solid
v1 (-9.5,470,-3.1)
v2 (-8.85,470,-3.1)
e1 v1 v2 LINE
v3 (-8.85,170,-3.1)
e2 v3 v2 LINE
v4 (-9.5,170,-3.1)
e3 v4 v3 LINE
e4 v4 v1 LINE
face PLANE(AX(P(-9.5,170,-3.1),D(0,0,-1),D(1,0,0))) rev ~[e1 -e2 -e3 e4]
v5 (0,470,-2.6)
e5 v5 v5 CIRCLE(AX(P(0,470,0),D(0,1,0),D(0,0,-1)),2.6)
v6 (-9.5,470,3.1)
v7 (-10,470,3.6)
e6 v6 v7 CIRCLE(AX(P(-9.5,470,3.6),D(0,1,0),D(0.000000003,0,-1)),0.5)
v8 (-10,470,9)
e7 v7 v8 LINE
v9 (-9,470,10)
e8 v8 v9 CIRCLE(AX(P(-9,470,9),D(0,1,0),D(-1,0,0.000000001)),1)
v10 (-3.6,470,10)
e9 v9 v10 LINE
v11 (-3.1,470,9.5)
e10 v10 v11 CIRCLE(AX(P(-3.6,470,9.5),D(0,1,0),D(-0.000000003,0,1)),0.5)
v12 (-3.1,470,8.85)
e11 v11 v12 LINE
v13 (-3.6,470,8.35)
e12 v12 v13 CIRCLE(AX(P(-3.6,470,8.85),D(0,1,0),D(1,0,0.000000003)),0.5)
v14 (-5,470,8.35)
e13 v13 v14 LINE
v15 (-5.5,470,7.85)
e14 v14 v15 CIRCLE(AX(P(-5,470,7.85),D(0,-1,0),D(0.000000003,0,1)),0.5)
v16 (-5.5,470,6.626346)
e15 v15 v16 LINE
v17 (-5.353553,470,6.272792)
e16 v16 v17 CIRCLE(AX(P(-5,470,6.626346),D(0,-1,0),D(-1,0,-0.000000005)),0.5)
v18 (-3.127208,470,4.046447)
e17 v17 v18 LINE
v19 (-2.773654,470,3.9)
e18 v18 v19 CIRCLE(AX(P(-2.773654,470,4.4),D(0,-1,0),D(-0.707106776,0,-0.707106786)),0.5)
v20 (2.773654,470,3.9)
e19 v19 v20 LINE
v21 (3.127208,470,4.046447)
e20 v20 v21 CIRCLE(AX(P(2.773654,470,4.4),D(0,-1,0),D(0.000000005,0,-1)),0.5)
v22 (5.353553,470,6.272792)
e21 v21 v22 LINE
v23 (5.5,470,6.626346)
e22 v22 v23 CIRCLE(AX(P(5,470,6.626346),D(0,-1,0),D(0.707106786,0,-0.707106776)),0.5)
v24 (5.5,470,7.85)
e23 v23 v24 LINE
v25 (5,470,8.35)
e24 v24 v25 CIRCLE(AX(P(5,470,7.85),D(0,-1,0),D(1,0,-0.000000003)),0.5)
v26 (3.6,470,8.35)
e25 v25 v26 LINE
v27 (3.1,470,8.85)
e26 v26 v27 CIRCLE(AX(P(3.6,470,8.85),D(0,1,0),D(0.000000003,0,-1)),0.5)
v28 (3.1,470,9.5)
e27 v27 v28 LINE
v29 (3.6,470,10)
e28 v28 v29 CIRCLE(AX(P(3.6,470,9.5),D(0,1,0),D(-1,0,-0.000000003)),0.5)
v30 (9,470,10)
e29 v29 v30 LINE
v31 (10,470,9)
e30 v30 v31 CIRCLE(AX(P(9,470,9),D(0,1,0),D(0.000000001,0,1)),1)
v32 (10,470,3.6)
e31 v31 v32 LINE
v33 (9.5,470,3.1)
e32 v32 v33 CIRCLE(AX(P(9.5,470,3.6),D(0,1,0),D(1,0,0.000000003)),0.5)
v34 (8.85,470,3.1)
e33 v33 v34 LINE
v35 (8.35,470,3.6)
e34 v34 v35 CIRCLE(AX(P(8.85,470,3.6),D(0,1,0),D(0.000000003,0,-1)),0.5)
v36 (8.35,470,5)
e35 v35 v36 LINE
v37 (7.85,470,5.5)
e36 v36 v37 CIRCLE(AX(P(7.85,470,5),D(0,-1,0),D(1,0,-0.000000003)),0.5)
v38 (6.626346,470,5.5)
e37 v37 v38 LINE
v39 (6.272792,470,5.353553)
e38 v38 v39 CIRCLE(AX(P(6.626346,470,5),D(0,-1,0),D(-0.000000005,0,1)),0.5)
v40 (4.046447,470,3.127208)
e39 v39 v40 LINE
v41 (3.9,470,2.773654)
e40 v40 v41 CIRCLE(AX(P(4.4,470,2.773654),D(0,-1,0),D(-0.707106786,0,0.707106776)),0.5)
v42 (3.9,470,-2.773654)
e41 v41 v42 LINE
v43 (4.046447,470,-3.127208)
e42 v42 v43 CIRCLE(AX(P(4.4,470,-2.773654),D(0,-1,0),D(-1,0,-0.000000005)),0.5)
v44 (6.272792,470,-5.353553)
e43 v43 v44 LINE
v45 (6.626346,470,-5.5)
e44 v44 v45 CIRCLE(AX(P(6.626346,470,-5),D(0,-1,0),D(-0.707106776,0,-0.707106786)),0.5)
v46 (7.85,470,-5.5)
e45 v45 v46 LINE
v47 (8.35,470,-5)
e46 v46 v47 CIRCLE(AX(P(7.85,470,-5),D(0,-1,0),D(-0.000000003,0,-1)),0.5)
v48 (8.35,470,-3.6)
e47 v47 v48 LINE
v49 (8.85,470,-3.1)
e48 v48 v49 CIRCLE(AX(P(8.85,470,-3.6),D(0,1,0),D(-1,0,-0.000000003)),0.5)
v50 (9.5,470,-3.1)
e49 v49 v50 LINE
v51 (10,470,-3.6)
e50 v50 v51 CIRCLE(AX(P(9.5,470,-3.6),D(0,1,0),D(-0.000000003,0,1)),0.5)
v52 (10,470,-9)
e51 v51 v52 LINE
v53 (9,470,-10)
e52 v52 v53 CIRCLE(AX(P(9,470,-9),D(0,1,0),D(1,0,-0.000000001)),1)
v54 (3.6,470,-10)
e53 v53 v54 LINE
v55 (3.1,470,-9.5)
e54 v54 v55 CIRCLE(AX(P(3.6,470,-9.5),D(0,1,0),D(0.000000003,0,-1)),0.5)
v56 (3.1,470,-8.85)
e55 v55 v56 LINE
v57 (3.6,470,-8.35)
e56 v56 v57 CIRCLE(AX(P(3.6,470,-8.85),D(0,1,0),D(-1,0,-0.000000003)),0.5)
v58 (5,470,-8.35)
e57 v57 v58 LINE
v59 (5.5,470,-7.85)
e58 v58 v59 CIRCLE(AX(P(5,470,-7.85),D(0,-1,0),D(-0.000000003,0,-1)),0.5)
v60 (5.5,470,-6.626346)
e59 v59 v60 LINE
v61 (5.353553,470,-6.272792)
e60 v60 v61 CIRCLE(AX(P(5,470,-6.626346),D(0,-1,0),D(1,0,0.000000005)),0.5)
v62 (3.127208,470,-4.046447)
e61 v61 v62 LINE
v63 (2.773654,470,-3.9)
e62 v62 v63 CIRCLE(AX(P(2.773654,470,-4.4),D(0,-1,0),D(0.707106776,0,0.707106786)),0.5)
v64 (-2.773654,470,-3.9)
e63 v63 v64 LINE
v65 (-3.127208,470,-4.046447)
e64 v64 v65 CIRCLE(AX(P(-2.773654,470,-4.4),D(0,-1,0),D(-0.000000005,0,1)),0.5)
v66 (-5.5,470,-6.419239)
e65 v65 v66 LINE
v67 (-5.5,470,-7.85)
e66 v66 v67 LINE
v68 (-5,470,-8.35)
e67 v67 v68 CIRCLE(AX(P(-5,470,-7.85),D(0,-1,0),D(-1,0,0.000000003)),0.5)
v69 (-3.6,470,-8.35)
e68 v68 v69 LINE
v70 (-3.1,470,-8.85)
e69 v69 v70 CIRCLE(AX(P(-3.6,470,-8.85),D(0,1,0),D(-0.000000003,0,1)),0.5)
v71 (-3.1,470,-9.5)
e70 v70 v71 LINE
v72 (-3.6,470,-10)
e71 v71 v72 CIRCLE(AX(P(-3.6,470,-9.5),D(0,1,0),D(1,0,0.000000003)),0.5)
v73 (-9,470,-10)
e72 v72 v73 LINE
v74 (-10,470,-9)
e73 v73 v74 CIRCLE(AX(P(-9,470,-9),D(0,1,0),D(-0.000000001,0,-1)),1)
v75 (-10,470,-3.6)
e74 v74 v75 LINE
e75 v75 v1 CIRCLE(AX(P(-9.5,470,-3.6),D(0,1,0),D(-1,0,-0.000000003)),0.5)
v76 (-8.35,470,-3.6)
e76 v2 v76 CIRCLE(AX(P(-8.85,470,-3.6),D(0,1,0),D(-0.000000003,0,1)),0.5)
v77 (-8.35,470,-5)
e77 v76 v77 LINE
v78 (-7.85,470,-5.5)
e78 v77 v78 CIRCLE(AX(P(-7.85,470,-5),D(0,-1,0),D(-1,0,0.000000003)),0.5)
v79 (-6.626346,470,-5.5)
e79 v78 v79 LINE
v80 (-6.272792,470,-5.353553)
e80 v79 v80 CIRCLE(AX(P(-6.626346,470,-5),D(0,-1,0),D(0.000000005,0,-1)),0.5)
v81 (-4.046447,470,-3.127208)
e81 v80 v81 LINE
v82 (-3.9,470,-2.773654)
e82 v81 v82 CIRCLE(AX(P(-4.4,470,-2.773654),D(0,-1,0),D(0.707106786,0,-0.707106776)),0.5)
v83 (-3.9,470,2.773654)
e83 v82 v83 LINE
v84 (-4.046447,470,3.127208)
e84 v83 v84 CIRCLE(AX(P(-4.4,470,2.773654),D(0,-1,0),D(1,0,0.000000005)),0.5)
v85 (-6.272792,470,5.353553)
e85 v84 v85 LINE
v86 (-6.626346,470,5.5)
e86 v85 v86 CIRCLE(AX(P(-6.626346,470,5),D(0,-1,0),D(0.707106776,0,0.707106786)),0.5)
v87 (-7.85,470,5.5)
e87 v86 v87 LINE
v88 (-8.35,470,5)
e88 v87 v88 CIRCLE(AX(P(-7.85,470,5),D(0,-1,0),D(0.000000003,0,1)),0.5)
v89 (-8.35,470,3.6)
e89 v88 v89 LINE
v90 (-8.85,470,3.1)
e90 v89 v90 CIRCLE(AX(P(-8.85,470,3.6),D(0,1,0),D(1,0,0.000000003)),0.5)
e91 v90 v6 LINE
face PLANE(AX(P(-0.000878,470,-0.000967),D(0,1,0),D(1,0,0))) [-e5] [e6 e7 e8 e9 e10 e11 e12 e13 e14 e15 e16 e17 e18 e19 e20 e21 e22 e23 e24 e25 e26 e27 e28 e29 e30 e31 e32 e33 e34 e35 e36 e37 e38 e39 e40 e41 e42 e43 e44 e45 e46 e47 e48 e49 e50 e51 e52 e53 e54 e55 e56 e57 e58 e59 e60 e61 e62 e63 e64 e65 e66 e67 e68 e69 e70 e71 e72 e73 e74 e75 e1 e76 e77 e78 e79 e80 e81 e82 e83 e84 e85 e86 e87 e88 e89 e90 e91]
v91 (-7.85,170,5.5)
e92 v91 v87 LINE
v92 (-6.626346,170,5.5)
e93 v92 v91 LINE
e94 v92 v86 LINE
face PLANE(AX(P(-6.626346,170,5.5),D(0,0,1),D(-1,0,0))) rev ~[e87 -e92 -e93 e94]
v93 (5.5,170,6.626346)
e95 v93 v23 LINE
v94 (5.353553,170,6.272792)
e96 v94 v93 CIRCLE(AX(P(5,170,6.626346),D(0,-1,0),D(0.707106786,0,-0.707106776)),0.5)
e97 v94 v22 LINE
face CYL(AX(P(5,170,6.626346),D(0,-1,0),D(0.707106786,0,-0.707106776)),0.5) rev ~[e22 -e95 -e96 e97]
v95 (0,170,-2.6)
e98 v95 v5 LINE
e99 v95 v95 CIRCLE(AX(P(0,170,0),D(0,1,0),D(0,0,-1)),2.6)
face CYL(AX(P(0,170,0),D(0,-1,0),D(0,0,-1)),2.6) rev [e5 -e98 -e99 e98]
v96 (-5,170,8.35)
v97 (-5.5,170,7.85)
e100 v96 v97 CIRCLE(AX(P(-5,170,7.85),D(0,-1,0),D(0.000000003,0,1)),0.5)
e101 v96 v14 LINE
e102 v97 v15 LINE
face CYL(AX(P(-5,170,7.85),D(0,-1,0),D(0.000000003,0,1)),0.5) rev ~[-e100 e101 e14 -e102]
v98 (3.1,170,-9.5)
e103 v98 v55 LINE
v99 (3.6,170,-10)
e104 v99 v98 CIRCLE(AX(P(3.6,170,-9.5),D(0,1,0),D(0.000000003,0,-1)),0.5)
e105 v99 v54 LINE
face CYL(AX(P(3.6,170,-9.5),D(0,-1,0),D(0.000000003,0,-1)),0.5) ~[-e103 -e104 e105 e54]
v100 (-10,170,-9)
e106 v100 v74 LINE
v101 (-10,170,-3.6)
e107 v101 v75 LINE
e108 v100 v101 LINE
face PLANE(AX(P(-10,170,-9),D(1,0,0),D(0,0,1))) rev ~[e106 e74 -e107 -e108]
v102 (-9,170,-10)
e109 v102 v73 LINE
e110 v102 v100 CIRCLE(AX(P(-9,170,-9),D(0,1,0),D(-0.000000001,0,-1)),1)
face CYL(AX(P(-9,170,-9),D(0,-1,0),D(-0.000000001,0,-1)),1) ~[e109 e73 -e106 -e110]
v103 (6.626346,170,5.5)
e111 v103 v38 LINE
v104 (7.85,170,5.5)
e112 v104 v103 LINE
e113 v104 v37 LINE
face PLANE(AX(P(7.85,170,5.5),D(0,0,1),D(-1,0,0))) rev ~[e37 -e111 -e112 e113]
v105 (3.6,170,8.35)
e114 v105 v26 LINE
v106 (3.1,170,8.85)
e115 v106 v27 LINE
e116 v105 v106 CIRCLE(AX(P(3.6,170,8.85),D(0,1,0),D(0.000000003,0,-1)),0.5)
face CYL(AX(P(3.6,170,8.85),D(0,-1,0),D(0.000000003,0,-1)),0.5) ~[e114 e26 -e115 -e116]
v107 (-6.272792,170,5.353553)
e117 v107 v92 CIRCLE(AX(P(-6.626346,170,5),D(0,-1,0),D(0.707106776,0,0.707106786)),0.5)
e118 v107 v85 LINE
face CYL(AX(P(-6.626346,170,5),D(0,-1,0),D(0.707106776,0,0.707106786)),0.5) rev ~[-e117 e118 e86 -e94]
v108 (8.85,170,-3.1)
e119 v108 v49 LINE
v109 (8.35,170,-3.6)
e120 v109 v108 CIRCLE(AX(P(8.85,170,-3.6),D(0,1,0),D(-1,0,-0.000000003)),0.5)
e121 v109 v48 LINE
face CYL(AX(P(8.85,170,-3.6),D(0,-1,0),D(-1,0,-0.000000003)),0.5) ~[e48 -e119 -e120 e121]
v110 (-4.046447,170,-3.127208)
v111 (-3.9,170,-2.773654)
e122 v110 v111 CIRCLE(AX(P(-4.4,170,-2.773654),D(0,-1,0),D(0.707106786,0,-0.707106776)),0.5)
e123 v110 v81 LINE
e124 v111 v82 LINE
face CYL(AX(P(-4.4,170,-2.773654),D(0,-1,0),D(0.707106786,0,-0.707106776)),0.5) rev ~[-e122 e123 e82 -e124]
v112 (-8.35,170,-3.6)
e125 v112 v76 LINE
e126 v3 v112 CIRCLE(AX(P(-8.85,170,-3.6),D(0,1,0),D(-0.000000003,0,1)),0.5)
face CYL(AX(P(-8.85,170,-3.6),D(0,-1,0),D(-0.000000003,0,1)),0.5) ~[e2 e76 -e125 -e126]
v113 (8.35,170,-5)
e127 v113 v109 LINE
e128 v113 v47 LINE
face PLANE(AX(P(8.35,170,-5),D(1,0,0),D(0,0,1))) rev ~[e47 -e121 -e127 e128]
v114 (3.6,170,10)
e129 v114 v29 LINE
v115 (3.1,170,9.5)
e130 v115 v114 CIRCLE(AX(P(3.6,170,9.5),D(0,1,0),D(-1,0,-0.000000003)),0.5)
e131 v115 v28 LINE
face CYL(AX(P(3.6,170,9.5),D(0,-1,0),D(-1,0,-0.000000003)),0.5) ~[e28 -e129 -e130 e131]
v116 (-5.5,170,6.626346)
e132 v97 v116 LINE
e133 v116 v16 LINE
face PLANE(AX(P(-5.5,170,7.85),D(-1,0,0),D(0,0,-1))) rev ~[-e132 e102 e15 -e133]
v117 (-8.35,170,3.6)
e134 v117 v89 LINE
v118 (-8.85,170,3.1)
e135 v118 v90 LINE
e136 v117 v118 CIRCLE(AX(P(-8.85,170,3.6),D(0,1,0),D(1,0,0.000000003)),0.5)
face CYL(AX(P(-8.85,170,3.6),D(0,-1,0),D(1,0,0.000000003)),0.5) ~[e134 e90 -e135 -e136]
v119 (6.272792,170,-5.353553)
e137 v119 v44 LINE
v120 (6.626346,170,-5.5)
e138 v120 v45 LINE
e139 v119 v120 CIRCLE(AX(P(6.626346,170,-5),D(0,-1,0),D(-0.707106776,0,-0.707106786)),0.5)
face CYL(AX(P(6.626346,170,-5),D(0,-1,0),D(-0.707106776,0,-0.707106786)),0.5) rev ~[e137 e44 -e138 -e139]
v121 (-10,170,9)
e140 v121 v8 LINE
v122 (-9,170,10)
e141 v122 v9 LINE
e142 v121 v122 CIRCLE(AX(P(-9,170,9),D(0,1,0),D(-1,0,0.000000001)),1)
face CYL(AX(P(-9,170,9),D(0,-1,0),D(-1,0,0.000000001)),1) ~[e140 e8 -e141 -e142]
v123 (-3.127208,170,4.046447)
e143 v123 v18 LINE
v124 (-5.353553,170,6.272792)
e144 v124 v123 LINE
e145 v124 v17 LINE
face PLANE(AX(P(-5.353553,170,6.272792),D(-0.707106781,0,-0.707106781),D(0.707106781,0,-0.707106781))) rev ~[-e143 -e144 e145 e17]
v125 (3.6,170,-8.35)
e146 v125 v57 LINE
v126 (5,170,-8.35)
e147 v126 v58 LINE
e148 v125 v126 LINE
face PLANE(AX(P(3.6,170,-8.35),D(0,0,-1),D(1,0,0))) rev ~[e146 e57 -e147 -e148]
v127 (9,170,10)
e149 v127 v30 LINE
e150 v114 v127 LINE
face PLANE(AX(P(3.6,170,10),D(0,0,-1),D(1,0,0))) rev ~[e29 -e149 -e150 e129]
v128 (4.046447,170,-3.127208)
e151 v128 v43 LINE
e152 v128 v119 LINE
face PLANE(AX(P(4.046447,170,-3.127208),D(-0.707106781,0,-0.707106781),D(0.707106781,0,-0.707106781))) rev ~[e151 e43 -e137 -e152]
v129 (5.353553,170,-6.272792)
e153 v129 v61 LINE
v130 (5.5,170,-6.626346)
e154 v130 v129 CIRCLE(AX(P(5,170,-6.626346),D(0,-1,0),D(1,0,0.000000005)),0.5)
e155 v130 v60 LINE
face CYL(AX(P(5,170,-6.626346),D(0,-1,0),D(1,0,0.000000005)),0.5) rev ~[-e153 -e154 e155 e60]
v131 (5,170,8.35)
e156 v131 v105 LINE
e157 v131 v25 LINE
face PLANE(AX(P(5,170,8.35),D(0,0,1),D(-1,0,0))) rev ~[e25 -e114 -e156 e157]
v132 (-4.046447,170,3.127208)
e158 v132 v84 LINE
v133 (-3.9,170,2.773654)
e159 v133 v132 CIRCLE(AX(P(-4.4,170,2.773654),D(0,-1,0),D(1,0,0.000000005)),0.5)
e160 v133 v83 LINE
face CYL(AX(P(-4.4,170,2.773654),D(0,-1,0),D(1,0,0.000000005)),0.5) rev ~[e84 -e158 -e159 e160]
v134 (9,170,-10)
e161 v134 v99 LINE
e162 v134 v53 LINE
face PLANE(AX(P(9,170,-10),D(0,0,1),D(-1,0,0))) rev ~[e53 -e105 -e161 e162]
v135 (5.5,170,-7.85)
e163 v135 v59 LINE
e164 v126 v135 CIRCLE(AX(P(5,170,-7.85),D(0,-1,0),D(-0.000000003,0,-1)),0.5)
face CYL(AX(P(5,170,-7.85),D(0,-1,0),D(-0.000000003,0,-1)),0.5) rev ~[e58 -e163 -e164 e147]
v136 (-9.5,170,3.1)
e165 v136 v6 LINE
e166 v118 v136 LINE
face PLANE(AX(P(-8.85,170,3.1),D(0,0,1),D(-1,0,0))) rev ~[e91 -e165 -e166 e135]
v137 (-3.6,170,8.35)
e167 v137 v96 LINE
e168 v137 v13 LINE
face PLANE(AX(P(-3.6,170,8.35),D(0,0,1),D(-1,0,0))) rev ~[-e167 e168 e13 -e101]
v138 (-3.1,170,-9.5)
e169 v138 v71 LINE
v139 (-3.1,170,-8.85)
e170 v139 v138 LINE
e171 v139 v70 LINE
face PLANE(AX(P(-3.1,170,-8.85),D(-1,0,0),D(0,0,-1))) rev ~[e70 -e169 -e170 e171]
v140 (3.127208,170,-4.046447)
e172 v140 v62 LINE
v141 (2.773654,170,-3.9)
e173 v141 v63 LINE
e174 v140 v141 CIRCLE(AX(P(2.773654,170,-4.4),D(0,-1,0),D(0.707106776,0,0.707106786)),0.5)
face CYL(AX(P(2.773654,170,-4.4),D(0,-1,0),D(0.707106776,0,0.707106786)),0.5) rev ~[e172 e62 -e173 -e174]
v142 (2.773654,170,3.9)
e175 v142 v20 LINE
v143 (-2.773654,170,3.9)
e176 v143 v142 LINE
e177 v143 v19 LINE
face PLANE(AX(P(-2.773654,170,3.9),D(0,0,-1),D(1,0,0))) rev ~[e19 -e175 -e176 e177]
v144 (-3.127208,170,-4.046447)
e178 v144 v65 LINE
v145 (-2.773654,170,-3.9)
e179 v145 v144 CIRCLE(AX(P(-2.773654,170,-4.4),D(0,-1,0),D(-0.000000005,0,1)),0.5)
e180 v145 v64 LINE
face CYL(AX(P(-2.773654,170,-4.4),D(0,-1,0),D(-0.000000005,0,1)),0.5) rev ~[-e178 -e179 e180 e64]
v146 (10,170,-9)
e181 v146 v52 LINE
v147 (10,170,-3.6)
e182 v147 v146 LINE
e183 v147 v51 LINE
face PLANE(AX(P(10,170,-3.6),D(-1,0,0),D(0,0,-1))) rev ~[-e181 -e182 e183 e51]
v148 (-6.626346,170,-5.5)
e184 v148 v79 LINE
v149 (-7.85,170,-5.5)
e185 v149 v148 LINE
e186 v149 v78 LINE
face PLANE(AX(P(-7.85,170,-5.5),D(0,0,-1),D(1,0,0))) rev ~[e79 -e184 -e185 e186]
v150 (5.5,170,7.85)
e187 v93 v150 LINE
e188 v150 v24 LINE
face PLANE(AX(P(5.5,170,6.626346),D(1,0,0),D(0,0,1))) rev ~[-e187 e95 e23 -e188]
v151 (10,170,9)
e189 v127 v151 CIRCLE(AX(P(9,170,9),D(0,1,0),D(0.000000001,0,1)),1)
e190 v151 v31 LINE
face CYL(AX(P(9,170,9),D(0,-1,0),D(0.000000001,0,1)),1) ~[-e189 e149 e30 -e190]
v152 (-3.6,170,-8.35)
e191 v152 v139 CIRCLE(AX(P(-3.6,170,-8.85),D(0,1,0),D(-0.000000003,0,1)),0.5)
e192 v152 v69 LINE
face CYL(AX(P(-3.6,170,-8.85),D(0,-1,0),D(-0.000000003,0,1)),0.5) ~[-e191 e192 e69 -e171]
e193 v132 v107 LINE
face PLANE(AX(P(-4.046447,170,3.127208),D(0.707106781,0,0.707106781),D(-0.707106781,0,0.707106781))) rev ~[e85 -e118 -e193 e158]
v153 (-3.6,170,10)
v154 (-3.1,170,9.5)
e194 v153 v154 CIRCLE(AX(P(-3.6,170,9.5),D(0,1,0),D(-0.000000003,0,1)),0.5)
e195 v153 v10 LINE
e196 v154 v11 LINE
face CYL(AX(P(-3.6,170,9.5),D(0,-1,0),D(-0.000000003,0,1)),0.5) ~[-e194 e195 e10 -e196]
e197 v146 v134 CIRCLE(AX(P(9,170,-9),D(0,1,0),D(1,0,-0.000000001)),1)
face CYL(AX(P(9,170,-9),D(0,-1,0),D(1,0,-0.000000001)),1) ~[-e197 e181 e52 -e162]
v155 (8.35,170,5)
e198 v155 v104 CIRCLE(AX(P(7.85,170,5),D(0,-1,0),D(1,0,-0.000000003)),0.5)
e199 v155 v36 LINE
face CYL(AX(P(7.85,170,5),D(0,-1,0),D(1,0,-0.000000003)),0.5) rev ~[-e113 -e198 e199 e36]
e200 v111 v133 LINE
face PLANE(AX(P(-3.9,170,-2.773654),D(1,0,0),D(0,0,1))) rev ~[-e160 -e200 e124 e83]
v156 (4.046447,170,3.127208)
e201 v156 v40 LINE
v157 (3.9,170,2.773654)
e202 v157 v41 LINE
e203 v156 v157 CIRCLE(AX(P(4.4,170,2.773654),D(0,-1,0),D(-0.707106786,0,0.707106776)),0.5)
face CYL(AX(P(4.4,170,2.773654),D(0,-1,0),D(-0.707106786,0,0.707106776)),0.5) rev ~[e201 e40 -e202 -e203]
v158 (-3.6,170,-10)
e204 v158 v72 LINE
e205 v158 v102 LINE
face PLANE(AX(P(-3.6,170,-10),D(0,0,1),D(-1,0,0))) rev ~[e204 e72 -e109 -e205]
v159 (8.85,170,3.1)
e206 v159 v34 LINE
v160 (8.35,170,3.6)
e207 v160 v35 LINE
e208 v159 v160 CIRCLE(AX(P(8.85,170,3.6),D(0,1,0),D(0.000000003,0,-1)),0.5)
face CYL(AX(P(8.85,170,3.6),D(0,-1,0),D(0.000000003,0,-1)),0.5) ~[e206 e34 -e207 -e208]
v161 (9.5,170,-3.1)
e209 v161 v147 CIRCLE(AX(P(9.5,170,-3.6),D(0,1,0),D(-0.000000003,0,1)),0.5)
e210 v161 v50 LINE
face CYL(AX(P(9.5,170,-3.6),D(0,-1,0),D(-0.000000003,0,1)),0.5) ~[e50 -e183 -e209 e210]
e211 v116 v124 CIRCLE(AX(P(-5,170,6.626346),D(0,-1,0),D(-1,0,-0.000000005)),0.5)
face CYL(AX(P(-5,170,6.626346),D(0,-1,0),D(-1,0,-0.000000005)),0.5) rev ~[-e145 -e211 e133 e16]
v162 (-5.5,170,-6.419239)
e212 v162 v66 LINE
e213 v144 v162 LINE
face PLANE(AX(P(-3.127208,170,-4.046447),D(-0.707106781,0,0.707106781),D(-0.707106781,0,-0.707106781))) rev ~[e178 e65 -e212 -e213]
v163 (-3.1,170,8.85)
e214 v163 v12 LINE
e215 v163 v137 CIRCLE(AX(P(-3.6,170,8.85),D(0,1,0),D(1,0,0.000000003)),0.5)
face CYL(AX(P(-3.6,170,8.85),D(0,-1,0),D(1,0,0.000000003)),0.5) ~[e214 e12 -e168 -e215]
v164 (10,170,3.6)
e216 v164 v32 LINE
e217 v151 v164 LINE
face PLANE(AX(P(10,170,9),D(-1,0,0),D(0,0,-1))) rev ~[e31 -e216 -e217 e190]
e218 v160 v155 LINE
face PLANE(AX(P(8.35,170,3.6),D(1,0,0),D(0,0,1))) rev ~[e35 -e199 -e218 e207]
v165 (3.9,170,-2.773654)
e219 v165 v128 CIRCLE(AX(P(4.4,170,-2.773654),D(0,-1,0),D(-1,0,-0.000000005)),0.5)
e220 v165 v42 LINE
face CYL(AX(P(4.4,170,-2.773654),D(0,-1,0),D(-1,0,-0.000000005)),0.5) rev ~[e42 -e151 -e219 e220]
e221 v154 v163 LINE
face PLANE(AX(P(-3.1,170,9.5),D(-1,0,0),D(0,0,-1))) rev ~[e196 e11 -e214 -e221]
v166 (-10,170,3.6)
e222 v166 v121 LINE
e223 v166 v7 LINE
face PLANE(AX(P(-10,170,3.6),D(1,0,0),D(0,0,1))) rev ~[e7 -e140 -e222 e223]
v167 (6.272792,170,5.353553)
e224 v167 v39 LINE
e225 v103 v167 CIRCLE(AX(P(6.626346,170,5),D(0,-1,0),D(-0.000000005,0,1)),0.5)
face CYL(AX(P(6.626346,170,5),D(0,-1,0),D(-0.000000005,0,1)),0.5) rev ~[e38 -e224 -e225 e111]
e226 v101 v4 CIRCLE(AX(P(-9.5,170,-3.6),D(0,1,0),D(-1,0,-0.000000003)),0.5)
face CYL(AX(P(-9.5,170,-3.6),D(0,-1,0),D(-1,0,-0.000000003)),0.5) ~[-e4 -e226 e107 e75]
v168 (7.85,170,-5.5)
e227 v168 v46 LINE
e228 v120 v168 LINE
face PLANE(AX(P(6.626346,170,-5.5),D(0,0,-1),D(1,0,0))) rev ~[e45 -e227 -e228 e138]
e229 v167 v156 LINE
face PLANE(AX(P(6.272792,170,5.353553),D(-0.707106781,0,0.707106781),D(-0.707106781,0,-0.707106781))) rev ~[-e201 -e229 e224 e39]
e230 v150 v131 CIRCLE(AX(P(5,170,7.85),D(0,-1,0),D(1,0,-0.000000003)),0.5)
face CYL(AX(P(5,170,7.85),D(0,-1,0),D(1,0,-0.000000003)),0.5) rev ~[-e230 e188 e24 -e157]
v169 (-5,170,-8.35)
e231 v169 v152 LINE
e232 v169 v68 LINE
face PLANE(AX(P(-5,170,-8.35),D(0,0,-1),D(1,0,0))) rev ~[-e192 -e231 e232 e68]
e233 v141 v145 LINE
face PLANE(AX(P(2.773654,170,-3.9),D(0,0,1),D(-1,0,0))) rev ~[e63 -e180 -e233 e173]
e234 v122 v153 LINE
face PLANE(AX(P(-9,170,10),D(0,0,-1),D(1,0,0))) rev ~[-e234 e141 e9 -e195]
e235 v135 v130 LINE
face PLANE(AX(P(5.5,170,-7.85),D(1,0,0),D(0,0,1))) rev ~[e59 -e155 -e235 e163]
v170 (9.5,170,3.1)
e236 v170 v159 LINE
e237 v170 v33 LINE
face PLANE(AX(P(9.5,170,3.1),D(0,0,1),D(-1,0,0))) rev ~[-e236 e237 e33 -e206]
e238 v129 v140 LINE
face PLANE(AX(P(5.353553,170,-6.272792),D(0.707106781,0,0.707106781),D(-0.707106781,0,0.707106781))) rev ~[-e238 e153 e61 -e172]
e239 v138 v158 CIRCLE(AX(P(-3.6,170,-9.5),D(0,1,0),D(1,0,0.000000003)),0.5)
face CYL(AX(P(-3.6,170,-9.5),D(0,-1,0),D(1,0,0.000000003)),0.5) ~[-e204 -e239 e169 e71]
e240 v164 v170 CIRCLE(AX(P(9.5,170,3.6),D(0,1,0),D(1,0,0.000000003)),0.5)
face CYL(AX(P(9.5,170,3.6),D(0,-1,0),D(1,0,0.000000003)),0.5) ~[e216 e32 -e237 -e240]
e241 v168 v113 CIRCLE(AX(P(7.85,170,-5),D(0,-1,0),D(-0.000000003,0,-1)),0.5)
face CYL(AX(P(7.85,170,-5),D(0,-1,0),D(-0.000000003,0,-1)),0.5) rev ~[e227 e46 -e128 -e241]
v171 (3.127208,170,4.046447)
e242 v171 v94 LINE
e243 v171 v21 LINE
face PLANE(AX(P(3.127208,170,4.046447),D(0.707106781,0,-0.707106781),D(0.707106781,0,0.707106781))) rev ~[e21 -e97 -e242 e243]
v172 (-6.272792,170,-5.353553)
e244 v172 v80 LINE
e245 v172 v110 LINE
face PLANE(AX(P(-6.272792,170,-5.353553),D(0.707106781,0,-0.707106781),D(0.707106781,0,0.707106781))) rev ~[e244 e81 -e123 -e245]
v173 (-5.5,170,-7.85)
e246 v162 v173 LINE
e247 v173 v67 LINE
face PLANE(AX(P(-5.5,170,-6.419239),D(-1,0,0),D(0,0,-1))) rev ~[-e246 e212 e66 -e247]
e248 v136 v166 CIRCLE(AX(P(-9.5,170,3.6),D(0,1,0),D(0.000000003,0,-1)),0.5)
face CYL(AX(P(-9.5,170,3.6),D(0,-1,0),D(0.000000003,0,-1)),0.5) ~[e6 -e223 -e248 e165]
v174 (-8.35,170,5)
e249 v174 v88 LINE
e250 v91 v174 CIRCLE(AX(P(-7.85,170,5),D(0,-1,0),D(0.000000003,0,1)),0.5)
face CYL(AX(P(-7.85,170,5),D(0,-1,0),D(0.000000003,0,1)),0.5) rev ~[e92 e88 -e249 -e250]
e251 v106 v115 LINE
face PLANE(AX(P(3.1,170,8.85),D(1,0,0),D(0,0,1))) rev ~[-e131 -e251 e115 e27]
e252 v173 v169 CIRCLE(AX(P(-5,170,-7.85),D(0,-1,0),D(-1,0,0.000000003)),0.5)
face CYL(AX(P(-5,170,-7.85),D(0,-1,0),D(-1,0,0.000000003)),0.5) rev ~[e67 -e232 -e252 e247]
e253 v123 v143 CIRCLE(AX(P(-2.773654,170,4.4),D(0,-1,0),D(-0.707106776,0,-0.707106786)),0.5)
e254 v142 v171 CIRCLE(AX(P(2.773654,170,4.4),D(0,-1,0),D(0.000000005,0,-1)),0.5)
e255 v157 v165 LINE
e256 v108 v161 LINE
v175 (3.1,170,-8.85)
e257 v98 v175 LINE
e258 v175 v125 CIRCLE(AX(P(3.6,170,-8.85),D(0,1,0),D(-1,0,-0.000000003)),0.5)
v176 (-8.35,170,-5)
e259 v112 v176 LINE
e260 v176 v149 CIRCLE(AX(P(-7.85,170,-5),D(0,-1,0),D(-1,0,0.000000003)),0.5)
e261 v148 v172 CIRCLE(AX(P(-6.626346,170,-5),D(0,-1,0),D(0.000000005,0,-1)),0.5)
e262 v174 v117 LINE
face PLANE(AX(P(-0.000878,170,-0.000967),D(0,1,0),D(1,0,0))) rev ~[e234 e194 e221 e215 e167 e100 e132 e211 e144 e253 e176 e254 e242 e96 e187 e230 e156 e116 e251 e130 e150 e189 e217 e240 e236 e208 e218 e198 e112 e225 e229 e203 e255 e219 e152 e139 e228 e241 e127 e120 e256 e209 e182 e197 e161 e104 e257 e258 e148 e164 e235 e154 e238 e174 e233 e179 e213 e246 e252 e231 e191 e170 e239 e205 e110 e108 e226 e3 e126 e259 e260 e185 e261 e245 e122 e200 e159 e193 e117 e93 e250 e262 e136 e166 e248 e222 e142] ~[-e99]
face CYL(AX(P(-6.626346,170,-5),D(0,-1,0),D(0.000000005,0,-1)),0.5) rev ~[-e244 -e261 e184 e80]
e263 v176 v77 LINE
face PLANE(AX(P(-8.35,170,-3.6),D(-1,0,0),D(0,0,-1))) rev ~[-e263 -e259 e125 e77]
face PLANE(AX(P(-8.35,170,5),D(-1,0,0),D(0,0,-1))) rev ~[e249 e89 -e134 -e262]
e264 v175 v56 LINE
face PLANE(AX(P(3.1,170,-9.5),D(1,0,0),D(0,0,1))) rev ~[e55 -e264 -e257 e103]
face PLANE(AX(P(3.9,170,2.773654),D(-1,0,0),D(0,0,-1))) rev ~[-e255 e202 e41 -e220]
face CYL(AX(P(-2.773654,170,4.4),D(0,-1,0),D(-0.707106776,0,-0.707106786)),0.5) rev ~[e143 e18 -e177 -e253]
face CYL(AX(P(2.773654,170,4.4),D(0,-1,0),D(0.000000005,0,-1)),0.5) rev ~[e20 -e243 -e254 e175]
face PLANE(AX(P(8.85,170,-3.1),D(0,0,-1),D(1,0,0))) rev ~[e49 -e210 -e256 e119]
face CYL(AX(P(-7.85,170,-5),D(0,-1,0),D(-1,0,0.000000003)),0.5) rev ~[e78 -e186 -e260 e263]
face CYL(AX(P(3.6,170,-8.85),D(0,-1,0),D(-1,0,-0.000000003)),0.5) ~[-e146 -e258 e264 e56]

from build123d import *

# Parameters (mm, degrees)
SKETCH_1_R      = 2.6
EXTRUDE_2_DEPTH = 300


with BuildPart() as part:
    # 草图1 → 凸台-拉伸2 (new body)
    with BuildSketch(Plane(origin=(0, 170, 0), x_dir=(1, 0, 0), z_dir=(0, 1, 0))):
        with BuildLine():
            Line((-3.1, 8.85), (-3.1, 9.5))
            ThreePointArc((-3.1, 9.5), (-3.246446609, 9.853553391), (-3.6, 10))
            Line((-3.6, 10), (-9, 10))
            ThreePointArc((-9, 10), (-9.707106781, 9.707106781), (-10, 9))
            Line((-10, 9), (-10, 3.6))
            ThreePointArc((-10, 3.6), (-9.853553391, 3.246446609), (-9.5, 3.1))
            Line((-9.5, 3.1), (-8.85, 3.1))
            ThreePointArc((-8.85, 3.1), (-8.496446609, 3.246446609), (-8.35, 3.6))
            Line((-8.35, 3.6), (-8.35, 5))
            ThreePointArc((-8.35, 5), (-8.203553391, 5.353553391), (-7.85, 5.5))
            Line((-7.85, 5.5), (-6.626345597, 5.5))
            ThreePointArc((-6.626345597, 5.5), (-6.435003881, 5.461939766), (-6.272792206, 5.353553391))
            Line((-6.272792206, 5.353553391), (-4.046446609, 3.127207794))
            ThreePointArc((-4.046446609, 3.127207794), (-3.938060234, 2.964996119), (-3.9, 2.773654403))
            Line((-3.9, 2.773654403), (-3.9, -2.773654403))
            ThreePointArc((-3.9, -2.773654403), (-3.938060234, -2.964996119), (-4.046446609, -3.127207794))
            Line((-4.046446609, -3.127207794), (-6.272792206, -5.353553391))
            ThreePointArc((-6.272792206, -5.353553391), (-6.435003881, -5.461939766), (-6.626345597, -5.5))
            Line((-6.626345597, -5.5), (-7.85, -5.5))
            ThreePointArc((-7.85, -5.5), (-8.203553391, -5.353553391), (-8.35, -5))
            Line((-8.35, -5), (-8.35, -3.6))
            ThreePointArc((-8.35, -3.6), (-8.496446609, -3.246446609), (-8.85, -3.1))
            Line((-8.85, -3.1), (-9.5, -3.1))
            ThreePointArc((-9.5, -3.1), (-9.853553391, -3.246446609), (-10, -3.6))
            Line((-10, -3.6), (-10, -9))
            ThreePointArc((-10, -9), (-9.707106781, -9.707106781), (-9, -10))
            Line((-9, -10), (-3.6, -10))
            ThreePointArc((-3.6, -10), (-3.246446609, -9.853553391), (-3.1, -9.5))
            Line((-3.1, -9.5), (-3.1, -8.85))
            ThreePointArc((-3.1, -8.85), (-3.246446609, -8.496446609), (-3.6, -8.35))
            Line((-3.6, -8.35), (-5, -8.35))
            ThreePointArc((-5, -8.35), (-5.353553391, -8.203553391), (-5.5, -7.85))
            Line((-5.5, -7.85), (-5.5, -6.626345597))
            ThreePointArc((-5.5, -6.626345597), (-5.461939766, -6.435003881), (-5.353553391, -6.272792206))
            Line((-5.353553391, -6.272792206), (-3.127207794, -4.046446609))
            ThreePointArc((-3.127207794, -4.046446609), (-2.964996119, -3.938060234), (-2.773654403, -3.9))
            Line((-2.773654403, -3.9), (2.773654403, -3.9))
            ThreePointArc((2.773654403, -3.9), (2.964996119, -3.938060234), (3.127207794, -4.046446609))
            Line((3.127207794, -4.046446609), (5.353553391, -6.272792206))
            ThreePointArc((5.353553391, -6.272792206), (5.461939766, -6.435003881), (5.5, -6.626345597))
            Line((5.5, -6.626345597), (5.5, -7.85))
            ThreePointArc((5.5, -7.85), (5.353553391, -8.203553391), (5, -8.35))
            Line((5, -8.35), (3.6, -8.35))
            ThreePointArc((3.6, -8.35), (3.246446609, -8.496446609), (3.1, -8.85))
            Line((3.1, -8.85), (3.1, -9.5))
            ThreePointArc((3.1, -9.5), (3.246446609, -9.853553391), (3.6, -10))
            Line((3.6, -10), (9, -10))
            ThreePointArc((9, -10), (9.707106781, -9.707106781), (10, -9))
            Line((10, -9), (10, -3.6))
            ThreePointArc((10, -3.6), (9.853553391, -3.246446609), (9.5, -3.1))
            Line((9.5, -3.1), (8.85, -3.1))
            ThreePointArc((8.85, -3.1), (8.496446609, -3.246446609), (8.35, -3.6))
            Line((8.35, -3.6), (8.35, -5))
            ThreePointArc((8.35, -5), (8.203553391, -5.353553391), (7.85, -5.5))
            Line((7.85, -5.5), (6.626345597, -5.5))
            ThreePointArc((6.626345597, -5.5), (6.435003881, -5.461939766), (6.272792206, -5.353553391))
            Line((6.272792206, -5.353553391), (4.046446609, -3.127207794))
            ThreePointArc((4.046446609, -3.127207794), (3.938060234, -2.964996119), (3.9, -2.773654403))
            Line((3.9, -2.773654403), (3.9, 2.773654403))
            ThreePointArc((3.9, 2.773654403), (3.938060234, 2.964996119), (4.046446609, 3.127207794))
            Line((4.046446609, 3.127207794), (6.272792206, 5.353553391))
            ThreePointArc((6.272792206, 5.353553391), (6.435003881, 5.461939766), (6.626345597, 5.5))
            Line((6.626345597, 5.5), (7.85, 5.5))
            ThreePointArc((7.85, 5.5), (8.203553391, 5.353553391), (8.35, 5))
            Line((8.35, 5), (8.35, 3.6))
            ThreePointArc((8.35, 3.6), (8.496446609, 3.246446609), (8.85, 3.1))
            Line((8.85, 3.1), (9.5, 3.1))
            ThreePointArc((9.5, 3.1), (9.853553391, 3.246446609), (10, 3.6))
            Line((10, 3.6), (10, 9))
            ThreePointArc((10, 9), (9.707106781, 9.707106781), (9, 10))
            Line((9, 10), (3.6, 10))
            ThreePointArc((3.6, 10), (3.246446609, 9.853553391), (3.1, 9.5))
            Line((3.1, 9.5), (3.1, 8.85))
            ThreePointArc((3.1, 8.85), (3.246446609, 8.496446609), (3.6, 8.35))
            Line((3.6, 8.35), (5, 8.35))
            ThreePointArc((5, 8.35), (5.353553391, 8.203553391), (5.5, 7.85))
            Line((5.5, 7.85), (5.5, 6.626345597))
            ThreePointArc((5.5, 6.626345597), (5.461939766, 6.435003881), (5.353553391, 6.272792206))
            Line((5.353553391, 6.272792206), (3.127207794, 4.046446609))
            ThreePointArc((3.127207794, 4.046446609), (2.964996119, 3.938060234), (2.773654403, 3.9))
            Line((2.773654403, 3.9), (-2.773654403, 3.9))
            ThreePointArc((-2.773654403, 3.9), (-2.964996119, 3.938060234), (-3.127207794, 4.046446609))
            Line((-3.127207794, 4.046446609), (-5.5, 6.419238816))
            Line((-5.5, 6.419238816), (-5.5, 7.85))
            ThreePointArc((-5.5, 7.85), (-5.353553391, 8.203553391), (-5, 8.35))
            Line((-5, 8.35), (-3.6, 8.35))
            ThreePointArc((-3.6, 8.35), (-3.246446609, 8.496446609), (-3.1, 8.85))
        make_face()
        with Locations(Location((0, 0, 0), (0, 0, 90))):
            Circle(SKETCH_1_R, mode=Mode.SUBTRACT)
    extrude(amount=EXTRUDE_2_DEPTH)


solid = part.part
